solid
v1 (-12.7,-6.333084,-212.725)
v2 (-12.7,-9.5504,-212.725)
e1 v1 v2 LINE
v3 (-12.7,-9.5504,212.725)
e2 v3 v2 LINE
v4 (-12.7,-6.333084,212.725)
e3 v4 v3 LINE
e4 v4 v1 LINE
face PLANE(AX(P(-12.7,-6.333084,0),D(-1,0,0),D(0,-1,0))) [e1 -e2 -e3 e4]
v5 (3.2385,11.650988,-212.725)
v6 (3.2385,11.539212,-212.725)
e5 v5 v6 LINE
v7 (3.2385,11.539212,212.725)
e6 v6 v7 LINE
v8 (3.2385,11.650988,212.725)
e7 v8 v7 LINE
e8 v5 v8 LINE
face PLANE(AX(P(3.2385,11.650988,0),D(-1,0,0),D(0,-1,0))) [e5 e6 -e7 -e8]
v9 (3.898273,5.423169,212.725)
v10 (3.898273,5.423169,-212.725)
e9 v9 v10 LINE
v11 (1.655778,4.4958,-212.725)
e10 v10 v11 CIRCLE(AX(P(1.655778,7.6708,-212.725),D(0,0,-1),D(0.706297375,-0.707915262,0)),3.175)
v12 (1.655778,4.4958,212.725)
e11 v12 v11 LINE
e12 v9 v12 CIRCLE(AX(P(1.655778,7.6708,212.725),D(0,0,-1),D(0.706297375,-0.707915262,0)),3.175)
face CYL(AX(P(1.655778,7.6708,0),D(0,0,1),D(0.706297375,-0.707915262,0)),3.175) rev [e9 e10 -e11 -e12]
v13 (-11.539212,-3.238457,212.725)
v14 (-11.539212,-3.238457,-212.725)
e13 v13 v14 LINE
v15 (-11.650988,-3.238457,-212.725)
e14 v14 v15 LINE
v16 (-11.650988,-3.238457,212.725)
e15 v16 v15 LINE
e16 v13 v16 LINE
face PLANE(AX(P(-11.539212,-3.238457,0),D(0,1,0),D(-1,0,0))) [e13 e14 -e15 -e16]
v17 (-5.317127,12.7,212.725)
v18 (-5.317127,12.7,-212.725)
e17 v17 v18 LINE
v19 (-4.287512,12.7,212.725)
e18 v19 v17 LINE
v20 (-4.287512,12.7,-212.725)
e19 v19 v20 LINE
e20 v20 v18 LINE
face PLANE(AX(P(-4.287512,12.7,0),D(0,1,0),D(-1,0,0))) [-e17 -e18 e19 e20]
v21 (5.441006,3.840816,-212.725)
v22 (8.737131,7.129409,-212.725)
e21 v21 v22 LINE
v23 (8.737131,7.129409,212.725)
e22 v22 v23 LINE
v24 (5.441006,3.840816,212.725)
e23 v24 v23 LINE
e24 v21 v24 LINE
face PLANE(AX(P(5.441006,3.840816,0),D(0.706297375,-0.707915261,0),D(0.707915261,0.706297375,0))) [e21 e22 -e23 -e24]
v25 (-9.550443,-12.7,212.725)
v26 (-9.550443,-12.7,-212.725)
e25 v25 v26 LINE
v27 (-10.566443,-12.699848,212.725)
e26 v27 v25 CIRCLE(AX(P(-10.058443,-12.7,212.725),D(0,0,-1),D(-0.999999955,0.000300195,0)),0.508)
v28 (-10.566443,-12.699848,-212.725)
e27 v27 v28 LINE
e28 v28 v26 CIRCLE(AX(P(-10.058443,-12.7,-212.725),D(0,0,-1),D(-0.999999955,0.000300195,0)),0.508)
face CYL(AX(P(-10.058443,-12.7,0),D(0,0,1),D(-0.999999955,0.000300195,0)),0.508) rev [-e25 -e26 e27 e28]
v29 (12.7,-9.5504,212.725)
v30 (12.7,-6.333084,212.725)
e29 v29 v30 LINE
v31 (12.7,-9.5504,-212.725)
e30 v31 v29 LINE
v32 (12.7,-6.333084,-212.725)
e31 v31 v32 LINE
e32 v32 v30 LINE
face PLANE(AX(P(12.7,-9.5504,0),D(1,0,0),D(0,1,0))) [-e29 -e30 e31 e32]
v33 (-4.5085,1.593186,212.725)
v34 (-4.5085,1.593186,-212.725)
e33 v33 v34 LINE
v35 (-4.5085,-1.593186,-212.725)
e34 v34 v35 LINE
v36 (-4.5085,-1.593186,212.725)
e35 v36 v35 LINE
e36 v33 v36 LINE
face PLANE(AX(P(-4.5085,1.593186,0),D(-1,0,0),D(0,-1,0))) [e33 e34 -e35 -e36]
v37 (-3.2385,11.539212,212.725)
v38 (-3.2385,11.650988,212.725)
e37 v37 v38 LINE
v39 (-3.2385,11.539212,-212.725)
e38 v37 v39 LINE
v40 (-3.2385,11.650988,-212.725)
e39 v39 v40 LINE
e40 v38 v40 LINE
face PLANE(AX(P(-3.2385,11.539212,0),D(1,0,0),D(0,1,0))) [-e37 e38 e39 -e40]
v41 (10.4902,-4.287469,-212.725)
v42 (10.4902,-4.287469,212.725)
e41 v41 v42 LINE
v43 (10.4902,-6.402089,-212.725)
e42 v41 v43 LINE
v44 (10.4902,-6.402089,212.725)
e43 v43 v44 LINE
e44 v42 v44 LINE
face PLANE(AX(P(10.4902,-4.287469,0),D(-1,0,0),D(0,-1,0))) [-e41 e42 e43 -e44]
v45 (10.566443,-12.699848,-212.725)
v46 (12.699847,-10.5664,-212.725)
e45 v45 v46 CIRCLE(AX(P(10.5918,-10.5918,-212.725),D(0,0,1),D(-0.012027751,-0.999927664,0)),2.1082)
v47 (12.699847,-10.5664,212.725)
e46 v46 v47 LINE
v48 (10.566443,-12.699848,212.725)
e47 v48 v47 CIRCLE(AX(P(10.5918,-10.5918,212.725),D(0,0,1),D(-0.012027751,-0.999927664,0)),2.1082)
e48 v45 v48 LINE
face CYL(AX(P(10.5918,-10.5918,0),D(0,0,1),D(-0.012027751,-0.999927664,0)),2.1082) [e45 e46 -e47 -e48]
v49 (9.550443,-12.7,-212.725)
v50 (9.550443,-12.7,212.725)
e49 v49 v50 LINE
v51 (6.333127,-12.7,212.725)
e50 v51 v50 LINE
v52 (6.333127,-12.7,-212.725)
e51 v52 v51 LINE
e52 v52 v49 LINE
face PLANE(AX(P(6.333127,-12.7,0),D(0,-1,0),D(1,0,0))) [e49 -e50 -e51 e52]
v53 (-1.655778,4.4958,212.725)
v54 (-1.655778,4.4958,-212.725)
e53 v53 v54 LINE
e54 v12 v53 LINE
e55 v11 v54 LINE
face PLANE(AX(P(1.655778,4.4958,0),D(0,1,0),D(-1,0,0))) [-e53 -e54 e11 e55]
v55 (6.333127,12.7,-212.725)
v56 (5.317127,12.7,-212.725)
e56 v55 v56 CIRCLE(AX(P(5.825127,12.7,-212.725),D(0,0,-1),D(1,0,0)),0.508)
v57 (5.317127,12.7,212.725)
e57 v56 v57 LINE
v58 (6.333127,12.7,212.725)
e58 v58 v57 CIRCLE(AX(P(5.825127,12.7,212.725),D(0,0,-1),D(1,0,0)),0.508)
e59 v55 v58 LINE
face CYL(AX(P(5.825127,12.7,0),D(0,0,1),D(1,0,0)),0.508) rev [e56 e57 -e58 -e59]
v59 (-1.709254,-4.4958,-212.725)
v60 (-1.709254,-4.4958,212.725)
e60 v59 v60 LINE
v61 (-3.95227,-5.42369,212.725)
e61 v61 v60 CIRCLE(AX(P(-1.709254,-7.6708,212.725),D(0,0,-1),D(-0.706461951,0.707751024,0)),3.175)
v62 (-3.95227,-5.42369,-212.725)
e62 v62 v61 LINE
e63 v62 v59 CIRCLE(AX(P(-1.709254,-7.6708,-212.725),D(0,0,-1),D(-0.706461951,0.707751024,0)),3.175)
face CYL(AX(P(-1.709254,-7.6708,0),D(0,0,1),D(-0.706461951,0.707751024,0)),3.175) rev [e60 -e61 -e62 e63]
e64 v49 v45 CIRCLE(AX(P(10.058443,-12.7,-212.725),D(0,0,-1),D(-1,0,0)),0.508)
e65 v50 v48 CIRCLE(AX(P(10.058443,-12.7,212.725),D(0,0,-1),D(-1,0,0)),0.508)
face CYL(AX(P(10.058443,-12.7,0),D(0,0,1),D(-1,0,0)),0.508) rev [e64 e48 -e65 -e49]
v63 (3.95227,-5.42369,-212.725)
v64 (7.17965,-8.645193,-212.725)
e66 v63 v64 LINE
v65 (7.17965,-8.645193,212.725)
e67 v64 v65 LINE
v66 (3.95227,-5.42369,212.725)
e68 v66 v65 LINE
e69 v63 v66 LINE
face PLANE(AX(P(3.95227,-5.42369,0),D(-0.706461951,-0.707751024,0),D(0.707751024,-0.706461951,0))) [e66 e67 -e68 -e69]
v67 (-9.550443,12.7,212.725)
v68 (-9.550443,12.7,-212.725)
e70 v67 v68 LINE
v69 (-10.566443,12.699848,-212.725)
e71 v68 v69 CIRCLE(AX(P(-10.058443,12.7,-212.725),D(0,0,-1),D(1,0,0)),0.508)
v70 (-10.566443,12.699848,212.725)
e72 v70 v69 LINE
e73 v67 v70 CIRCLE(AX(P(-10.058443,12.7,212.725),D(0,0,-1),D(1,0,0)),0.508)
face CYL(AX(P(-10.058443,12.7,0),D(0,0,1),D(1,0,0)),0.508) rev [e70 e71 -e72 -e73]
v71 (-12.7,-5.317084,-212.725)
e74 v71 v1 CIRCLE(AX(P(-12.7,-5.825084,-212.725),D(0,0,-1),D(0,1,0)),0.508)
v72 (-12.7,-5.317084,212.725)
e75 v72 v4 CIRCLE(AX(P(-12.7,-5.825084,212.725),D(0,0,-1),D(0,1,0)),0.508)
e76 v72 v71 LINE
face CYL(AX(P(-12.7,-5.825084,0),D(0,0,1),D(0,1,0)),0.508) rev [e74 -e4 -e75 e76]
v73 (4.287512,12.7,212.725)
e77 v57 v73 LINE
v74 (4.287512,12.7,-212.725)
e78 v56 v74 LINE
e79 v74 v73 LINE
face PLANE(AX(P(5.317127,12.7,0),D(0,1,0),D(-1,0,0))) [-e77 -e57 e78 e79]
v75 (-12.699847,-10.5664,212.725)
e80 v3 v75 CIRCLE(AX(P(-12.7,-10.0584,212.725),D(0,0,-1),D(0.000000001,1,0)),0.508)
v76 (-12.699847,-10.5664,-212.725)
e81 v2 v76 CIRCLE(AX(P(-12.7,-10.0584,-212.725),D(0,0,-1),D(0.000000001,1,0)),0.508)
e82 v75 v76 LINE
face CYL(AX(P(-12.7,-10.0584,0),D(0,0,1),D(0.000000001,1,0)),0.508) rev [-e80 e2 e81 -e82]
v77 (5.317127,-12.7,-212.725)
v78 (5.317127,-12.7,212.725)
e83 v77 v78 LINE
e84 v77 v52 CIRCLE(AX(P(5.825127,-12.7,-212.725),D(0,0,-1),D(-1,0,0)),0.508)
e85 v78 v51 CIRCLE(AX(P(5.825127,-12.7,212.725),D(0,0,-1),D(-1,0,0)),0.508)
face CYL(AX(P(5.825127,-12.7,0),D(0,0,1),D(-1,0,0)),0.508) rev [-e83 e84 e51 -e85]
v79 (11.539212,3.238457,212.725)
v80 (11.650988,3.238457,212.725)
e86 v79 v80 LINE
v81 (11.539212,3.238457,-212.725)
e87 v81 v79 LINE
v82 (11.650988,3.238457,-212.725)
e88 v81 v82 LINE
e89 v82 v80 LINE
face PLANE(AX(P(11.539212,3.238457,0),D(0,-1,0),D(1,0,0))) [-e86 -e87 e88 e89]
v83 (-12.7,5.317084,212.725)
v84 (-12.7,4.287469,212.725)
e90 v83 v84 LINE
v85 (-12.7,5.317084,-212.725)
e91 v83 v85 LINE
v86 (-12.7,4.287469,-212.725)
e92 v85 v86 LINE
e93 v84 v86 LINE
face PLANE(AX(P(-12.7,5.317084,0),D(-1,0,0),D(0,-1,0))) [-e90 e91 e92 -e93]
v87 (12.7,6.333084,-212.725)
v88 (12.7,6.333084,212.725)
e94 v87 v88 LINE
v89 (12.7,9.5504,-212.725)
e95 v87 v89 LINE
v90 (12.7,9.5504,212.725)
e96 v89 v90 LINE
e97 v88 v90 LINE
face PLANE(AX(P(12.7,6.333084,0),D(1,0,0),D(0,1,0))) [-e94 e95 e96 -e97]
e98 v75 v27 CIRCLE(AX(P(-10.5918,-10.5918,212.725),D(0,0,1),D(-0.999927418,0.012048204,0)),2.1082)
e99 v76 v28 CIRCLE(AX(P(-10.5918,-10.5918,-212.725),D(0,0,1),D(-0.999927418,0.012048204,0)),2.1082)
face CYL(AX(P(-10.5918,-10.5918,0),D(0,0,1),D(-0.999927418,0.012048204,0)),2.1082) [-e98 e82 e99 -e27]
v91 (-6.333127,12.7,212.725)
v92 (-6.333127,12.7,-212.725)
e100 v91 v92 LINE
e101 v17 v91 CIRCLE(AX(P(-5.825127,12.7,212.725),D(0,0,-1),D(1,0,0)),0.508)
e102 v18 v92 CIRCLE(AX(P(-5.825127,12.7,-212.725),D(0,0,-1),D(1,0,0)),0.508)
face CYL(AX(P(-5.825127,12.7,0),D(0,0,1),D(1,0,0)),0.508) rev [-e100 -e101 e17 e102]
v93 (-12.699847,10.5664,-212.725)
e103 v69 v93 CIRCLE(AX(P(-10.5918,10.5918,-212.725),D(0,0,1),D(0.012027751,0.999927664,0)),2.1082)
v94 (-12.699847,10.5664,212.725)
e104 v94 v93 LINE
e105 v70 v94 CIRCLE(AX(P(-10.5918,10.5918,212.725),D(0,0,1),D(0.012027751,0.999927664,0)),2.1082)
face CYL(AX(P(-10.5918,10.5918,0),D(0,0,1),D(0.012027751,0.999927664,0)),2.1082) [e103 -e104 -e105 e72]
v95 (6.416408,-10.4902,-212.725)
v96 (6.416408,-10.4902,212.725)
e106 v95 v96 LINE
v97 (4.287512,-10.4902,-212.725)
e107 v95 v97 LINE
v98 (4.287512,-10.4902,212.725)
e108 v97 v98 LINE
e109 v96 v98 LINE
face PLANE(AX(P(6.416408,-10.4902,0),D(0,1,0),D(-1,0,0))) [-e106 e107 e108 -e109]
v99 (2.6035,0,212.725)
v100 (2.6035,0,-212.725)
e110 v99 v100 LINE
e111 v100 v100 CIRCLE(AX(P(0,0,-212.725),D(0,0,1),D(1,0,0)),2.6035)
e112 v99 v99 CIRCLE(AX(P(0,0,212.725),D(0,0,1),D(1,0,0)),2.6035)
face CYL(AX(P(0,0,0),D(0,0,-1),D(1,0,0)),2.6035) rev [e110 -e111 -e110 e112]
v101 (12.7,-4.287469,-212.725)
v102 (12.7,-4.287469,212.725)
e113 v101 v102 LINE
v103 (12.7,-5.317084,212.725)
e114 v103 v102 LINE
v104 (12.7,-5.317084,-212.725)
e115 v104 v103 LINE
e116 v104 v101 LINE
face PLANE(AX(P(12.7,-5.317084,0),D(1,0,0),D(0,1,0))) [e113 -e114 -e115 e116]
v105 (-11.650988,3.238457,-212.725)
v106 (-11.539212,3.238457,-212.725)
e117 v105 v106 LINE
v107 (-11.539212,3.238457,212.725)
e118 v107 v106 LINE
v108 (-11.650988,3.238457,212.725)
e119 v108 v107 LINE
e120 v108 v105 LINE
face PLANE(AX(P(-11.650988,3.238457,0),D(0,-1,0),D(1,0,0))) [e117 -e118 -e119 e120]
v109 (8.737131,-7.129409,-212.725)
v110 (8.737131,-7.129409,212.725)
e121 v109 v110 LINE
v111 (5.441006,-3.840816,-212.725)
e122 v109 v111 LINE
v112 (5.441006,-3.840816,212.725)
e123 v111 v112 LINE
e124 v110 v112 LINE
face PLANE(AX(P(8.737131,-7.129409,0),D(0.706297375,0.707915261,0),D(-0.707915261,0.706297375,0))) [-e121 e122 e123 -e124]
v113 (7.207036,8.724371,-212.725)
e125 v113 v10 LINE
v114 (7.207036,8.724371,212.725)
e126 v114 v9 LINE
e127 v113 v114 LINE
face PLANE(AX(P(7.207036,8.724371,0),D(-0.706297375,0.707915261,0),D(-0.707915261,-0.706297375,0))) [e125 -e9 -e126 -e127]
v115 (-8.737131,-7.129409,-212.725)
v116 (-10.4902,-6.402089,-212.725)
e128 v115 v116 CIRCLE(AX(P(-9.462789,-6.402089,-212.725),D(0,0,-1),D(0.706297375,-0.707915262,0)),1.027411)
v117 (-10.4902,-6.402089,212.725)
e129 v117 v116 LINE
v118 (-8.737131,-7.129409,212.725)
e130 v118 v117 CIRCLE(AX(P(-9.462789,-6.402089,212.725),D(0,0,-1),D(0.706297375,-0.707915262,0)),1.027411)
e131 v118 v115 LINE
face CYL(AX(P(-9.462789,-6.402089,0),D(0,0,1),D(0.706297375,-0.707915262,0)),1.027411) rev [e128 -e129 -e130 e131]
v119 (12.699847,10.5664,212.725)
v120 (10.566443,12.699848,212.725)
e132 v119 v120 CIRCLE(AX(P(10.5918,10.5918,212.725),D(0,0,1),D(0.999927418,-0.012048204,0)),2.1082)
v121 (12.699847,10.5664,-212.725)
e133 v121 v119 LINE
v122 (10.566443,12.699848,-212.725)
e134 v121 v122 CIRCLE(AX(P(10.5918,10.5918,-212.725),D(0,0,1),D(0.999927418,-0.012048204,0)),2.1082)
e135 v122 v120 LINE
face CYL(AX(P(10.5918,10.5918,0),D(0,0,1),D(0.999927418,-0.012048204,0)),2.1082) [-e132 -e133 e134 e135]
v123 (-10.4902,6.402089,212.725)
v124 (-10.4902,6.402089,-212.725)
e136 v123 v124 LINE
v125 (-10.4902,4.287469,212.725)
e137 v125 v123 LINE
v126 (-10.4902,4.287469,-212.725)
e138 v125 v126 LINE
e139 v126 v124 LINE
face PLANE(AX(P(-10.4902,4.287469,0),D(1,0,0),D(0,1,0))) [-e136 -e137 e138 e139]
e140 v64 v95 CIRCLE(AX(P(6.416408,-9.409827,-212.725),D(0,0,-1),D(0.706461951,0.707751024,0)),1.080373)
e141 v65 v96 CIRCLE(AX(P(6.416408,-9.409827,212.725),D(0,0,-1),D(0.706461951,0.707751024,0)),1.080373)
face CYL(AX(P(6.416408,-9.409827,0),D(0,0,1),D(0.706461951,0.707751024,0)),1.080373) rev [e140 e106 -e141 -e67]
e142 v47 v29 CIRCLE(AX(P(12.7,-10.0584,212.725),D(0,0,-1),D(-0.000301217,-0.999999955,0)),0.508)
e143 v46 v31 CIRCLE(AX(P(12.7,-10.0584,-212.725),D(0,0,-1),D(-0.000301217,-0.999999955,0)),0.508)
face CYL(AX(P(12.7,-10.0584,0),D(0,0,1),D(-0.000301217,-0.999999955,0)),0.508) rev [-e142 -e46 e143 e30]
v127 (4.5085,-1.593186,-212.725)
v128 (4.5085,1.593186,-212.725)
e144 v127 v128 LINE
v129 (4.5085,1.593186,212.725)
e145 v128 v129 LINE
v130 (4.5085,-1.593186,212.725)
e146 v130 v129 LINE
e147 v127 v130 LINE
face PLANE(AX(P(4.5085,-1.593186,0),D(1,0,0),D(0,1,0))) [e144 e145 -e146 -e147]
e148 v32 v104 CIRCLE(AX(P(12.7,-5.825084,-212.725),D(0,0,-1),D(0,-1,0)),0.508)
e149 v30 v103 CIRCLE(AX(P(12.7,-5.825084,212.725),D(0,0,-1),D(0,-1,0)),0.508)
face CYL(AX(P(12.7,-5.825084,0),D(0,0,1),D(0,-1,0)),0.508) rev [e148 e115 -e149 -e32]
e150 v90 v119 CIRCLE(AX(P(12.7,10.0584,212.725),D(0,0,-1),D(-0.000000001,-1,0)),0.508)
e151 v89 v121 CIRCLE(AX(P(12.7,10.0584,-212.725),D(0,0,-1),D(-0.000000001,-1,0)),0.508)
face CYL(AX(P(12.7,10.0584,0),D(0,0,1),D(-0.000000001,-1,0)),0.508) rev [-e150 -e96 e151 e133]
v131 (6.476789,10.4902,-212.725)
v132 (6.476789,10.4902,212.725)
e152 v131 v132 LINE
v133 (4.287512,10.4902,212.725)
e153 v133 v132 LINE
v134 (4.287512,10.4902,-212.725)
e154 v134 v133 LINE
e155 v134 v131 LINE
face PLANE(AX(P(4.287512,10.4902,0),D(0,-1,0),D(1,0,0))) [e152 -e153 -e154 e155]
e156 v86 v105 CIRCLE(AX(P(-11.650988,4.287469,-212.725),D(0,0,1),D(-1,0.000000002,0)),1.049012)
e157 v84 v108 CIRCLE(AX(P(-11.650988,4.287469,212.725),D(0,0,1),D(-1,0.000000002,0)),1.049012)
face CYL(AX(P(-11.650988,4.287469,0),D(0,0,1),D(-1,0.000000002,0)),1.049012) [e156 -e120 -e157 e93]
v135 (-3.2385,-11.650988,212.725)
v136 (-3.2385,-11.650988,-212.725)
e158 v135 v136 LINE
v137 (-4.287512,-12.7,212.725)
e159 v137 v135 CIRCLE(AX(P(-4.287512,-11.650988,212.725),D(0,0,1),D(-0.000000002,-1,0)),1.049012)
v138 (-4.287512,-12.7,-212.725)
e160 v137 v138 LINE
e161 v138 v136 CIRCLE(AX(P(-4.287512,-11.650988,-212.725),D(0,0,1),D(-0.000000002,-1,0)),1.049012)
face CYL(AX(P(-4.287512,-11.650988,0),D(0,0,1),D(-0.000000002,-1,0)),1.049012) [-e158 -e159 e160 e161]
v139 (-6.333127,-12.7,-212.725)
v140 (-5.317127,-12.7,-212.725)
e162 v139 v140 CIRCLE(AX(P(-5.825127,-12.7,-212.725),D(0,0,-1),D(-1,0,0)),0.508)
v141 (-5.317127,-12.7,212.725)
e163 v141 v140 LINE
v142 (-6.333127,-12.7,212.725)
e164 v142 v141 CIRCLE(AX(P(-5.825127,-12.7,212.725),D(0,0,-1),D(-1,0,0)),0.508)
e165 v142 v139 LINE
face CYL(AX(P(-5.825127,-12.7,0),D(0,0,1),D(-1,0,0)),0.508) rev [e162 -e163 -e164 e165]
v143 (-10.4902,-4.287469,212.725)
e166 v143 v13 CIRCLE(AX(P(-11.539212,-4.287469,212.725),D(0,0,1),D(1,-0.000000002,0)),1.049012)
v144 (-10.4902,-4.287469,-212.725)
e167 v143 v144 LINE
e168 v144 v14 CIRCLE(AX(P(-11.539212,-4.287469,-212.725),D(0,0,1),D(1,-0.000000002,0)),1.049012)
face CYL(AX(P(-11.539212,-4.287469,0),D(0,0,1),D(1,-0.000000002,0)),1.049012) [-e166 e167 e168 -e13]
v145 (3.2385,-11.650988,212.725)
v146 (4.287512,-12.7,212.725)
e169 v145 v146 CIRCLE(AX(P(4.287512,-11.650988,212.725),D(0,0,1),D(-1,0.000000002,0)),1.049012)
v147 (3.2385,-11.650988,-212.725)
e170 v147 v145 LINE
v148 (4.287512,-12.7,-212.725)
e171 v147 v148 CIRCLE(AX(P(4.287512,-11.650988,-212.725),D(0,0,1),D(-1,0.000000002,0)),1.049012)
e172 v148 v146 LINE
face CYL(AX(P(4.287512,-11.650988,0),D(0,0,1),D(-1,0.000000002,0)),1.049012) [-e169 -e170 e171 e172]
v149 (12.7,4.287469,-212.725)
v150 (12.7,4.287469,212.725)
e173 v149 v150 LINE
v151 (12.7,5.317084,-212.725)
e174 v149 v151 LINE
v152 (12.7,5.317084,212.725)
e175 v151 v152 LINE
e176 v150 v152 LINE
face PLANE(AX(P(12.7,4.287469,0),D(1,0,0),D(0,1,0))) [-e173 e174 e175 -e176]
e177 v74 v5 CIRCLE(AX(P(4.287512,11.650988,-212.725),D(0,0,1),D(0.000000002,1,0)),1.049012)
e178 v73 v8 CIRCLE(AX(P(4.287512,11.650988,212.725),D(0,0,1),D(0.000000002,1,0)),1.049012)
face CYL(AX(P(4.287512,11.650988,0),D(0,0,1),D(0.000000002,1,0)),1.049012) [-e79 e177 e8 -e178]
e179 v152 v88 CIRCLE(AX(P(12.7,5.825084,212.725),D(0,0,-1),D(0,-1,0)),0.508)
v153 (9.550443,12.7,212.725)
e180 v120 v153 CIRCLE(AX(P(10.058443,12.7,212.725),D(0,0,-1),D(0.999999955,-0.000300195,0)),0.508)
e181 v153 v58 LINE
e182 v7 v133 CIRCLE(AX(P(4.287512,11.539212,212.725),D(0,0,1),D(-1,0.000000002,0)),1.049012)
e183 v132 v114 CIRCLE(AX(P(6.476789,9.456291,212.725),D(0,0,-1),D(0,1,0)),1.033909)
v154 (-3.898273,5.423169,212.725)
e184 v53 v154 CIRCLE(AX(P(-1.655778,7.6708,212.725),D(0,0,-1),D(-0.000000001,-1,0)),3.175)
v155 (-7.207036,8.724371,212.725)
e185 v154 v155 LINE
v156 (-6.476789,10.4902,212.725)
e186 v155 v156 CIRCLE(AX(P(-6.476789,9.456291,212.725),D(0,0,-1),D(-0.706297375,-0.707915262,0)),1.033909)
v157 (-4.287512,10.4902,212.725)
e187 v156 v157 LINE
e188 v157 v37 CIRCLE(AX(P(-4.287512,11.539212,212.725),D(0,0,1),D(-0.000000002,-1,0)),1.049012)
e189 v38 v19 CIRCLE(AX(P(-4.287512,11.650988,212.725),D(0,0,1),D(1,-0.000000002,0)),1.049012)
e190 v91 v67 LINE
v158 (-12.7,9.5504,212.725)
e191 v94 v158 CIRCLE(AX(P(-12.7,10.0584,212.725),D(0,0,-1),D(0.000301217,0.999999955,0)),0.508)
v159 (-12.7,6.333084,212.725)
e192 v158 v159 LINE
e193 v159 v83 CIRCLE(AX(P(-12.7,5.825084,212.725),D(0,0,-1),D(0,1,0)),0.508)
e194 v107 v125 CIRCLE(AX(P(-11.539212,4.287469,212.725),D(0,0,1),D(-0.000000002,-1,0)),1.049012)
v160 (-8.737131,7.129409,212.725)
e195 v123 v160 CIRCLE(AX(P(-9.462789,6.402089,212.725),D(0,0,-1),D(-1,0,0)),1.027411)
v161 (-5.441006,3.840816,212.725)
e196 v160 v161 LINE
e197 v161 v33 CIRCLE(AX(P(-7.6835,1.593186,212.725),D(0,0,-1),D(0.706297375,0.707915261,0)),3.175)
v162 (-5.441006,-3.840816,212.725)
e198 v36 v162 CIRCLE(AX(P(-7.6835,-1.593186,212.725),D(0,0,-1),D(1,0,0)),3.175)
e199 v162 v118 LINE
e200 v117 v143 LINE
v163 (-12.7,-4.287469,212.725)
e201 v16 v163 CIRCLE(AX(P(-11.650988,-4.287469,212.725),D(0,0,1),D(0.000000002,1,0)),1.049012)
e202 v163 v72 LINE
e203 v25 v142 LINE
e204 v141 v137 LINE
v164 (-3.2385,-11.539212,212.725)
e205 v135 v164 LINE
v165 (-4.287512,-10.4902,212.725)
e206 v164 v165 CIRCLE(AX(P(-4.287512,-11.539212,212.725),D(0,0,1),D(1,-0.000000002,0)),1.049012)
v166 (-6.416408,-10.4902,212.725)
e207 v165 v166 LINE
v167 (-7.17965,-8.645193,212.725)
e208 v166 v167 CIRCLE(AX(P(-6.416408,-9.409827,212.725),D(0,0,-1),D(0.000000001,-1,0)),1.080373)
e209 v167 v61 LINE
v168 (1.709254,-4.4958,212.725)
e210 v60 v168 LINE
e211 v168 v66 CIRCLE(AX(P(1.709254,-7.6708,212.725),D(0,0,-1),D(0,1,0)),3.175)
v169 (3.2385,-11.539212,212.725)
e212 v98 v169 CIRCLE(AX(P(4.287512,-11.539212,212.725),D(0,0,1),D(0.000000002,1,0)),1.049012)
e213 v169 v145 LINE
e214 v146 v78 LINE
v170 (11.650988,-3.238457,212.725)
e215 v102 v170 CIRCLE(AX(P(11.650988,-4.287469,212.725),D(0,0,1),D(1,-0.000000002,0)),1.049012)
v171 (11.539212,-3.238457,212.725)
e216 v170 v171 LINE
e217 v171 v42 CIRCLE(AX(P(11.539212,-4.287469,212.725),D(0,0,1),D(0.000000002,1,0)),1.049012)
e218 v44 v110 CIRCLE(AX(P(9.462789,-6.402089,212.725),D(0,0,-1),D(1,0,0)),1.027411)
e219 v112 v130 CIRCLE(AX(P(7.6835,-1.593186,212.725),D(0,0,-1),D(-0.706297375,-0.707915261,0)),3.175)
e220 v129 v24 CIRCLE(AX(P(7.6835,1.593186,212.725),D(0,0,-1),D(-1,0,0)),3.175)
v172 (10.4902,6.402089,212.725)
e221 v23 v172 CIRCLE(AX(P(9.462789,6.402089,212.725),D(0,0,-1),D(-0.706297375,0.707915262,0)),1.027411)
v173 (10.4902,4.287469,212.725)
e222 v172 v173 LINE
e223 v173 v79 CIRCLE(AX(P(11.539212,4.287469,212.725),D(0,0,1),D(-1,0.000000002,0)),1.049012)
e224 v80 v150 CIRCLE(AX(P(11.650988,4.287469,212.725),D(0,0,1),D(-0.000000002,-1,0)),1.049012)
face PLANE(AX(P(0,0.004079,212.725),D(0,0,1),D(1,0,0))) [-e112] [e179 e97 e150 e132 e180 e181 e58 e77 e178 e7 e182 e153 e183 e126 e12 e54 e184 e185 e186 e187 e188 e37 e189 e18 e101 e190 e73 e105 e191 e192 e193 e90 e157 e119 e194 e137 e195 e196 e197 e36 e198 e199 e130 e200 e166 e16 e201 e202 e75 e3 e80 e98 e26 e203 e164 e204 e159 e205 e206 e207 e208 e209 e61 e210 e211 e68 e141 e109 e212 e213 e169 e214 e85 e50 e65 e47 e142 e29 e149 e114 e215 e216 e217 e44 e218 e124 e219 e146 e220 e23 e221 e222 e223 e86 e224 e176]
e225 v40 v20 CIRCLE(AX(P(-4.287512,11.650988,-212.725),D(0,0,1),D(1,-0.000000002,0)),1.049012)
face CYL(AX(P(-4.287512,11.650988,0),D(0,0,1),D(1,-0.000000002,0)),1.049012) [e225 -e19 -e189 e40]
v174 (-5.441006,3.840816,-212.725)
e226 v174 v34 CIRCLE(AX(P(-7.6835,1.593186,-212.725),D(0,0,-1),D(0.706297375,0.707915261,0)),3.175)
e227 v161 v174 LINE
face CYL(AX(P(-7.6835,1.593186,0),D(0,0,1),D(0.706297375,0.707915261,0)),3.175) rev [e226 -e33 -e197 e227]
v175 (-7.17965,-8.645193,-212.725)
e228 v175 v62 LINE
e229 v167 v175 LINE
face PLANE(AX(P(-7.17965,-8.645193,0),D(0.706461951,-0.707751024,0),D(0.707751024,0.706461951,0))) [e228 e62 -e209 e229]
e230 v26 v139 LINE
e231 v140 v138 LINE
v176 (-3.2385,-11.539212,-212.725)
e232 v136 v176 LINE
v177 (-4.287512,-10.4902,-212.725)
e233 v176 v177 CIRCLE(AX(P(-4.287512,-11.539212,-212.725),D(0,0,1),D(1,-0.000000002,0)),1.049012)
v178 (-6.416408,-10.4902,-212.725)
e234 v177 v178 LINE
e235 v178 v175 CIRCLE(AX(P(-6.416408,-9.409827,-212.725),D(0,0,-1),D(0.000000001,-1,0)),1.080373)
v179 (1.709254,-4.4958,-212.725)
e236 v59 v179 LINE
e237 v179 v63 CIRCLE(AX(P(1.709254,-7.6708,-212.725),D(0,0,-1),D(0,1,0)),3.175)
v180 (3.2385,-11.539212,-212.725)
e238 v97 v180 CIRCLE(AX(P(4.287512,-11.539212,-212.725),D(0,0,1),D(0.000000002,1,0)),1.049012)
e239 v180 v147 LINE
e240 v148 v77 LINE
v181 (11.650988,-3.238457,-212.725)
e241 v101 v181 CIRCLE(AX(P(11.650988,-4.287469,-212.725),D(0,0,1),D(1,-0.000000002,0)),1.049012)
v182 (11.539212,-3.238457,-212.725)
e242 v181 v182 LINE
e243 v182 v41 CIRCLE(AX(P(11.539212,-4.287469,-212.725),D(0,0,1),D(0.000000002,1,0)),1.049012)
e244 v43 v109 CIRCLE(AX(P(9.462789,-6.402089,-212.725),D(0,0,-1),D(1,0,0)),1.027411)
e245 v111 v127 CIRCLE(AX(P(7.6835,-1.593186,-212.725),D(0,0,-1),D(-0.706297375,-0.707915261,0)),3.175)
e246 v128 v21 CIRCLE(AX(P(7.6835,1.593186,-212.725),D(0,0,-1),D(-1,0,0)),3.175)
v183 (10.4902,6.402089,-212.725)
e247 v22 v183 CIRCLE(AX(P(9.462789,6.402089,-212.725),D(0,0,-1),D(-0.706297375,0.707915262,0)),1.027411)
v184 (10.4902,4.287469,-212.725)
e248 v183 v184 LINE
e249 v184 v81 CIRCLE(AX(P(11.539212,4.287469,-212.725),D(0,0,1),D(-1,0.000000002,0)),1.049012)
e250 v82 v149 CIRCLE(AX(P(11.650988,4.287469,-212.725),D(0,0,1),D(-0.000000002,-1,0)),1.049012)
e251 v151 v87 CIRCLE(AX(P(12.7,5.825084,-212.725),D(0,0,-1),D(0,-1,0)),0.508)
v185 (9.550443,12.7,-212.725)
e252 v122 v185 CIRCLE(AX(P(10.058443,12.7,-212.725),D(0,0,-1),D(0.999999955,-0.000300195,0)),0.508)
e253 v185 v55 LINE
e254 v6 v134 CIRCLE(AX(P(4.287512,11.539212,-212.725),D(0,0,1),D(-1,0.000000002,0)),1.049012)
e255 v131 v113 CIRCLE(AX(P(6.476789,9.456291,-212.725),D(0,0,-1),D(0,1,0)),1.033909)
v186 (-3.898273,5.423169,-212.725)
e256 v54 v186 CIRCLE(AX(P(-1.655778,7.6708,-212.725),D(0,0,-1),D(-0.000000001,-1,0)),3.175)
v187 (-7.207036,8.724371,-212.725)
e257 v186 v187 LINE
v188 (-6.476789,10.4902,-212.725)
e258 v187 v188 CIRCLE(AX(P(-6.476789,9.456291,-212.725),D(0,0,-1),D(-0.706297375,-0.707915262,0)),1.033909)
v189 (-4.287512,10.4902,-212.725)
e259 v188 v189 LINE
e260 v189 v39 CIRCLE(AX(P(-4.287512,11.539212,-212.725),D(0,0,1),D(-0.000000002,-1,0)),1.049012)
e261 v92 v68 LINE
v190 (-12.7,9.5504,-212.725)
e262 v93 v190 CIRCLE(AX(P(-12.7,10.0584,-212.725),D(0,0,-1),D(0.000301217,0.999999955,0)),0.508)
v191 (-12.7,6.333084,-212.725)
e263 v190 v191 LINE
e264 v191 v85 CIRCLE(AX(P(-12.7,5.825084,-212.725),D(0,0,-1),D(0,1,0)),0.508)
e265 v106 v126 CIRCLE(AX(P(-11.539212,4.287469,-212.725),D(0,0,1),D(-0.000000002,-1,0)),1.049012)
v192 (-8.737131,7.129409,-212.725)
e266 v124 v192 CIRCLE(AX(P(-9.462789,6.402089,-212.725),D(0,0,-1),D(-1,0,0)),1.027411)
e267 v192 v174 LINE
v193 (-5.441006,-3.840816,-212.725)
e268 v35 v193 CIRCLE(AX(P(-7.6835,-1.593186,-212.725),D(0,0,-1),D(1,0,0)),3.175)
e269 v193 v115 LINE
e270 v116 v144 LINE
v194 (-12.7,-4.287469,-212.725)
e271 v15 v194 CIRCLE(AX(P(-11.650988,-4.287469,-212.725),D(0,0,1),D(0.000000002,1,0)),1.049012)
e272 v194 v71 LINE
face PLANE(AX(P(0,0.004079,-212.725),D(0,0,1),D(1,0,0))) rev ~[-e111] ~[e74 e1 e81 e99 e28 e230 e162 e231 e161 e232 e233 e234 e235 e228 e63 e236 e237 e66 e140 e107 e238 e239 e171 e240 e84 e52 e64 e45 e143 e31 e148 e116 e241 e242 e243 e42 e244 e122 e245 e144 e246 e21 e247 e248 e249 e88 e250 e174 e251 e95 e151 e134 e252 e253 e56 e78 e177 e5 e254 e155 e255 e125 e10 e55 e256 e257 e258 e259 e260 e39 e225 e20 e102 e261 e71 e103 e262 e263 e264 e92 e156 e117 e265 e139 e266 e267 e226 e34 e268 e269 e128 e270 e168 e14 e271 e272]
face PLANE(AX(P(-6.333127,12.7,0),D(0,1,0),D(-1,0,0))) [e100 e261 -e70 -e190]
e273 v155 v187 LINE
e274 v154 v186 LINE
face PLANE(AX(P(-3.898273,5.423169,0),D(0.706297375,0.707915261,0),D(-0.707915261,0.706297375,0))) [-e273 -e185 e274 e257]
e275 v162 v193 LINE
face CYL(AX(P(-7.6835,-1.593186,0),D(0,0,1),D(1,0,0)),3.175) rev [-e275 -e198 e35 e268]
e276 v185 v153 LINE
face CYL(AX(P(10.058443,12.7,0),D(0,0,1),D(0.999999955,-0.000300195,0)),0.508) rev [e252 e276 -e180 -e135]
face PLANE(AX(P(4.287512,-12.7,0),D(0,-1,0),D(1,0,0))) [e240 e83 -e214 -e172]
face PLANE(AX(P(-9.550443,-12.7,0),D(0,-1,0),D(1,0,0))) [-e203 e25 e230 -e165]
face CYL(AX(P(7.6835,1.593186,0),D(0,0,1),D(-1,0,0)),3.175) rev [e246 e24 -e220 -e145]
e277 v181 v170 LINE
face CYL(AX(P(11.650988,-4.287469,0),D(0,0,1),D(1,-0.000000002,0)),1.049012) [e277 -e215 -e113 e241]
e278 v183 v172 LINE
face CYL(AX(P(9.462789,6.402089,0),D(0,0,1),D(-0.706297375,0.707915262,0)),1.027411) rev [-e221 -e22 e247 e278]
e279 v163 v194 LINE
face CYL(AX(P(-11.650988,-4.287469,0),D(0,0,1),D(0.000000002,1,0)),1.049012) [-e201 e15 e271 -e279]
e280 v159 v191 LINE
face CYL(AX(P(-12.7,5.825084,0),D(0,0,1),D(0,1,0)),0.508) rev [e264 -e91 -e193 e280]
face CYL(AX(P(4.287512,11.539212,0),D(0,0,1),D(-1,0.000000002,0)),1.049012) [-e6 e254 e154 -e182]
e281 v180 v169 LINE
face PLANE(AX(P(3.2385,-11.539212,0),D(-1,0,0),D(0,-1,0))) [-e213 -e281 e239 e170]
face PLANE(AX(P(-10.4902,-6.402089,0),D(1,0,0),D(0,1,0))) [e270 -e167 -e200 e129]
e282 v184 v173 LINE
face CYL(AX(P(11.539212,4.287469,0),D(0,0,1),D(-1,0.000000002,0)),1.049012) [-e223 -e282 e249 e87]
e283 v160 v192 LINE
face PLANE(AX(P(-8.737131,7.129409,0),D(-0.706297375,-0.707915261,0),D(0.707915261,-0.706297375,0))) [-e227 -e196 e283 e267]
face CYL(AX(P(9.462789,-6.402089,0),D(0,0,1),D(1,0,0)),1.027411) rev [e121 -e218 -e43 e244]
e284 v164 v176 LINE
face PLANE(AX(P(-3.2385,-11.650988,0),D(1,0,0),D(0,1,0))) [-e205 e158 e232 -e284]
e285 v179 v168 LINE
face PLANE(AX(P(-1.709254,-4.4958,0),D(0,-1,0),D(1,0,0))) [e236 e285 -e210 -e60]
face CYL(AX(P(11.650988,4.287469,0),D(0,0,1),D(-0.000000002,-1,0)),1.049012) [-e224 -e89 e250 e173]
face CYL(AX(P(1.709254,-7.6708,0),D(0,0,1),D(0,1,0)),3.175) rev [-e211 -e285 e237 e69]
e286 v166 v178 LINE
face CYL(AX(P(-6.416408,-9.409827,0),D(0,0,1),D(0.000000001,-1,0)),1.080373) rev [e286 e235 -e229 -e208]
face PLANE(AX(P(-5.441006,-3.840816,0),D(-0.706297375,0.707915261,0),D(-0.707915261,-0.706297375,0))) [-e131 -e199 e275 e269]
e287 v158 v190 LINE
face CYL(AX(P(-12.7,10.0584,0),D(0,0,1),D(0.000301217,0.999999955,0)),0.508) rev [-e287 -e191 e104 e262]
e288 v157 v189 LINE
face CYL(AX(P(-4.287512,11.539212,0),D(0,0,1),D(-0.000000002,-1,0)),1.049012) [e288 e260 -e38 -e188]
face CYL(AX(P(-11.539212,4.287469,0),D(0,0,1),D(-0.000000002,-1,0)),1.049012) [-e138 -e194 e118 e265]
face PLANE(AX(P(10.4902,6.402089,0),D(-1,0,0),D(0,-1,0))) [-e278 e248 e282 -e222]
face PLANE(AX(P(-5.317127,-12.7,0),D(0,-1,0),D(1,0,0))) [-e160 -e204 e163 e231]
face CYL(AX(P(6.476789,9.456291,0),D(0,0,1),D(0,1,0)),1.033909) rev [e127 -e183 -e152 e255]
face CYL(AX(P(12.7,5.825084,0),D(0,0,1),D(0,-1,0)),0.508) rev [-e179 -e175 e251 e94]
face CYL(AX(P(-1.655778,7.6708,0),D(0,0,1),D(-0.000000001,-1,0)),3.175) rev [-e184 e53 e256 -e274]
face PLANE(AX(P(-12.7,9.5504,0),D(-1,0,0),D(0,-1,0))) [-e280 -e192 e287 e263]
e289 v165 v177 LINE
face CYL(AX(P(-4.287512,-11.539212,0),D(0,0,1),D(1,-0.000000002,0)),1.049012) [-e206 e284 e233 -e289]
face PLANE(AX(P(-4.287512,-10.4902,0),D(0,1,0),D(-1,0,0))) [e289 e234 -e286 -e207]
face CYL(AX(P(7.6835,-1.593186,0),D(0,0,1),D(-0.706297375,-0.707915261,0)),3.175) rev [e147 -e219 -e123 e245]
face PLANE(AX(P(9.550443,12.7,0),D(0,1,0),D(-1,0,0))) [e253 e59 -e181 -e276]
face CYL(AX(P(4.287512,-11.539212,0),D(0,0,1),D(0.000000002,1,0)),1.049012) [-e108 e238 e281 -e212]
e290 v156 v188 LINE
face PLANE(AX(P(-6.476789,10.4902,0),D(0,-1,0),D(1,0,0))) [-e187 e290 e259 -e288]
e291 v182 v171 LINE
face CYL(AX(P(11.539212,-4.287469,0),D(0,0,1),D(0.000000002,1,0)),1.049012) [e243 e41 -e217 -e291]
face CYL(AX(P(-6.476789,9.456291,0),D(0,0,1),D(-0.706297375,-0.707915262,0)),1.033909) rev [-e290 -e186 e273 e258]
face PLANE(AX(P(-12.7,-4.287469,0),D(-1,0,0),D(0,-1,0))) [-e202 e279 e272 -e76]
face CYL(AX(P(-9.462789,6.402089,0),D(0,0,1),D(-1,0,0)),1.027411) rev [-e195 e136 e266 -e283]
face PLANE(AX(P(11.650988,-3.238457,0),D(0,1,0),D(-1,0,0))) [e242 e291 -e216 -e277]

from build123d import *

# Parameters (mm, degrees)
SKETCH1_R           = 2.6035
BOSS_EXTRUDE1_DEPTH = 212.725


with BuildPart() as part:
    # Sketch1 → Boss-Extrude1 (new body, symmetric)
    with BuildSketch(Plane.XY):
        with BuildLine():
            Line((-7.179650497, -8.645192506), (-3.952270251, -5.423690499))
            ThreePointArc((-3.952270251, -5.423690499), (-2.922936451, -4.736929036), (-1.709253557, -4.4958))
            Line((-1.709253557, -4.4958), (1.709253557, -4.4958))
            ThreePointArc((1.709253557, -4.4958), (2.922936451, -4.736929036), (3.952270251, -5.423690499))
            Line((3.952270251, -5.423690499), (7.179650497, -8.645192506))
            ThreePointArc((7.179650497, -8.645192506), (7.41473083, -9.822813117), (6.416408329, -10.4902))
            Line((6.416408329, -10.4902), (4.287512407, -10.4902))
            ThreePointArc((4.287512407, -10.4902), (3.54574862, -10.79744862), (3.2385, -11.539212407))
            Line((3.2385, -11.539212407), (3.2385, -11.650987593))
            ThreePointArc((3.2385, -11.650987593), (3.54574862, -12.39275138), (4.287512407, -12.7))
            Line((4.287512407, -12.7), (5.317126718, -12.7))
            ThreePointArc((5.317126718, -12.7), (5.825126718, -12.192), (6.333126718, -12.7))
            Line((6.333126718, -12.7), (9.550443118, -12.7))
            ThreePointArc((9.550443118, -12.7), (10.058366869, -12.192000006), (10.566443095, -12.699847501))
            ThreePointArc((10.566443095, -12.699847501), (12.082537762, -12.08250727), (12.699846982, -10.566399977))
            ThreePointArc((12.699846982, -10.566399977), (12.192000006, -10.058323491), (12.7, -9.5504))
            Line((12.7, -9.5504), (12.7, -6.3330836))
            ThreePointArc((12.7, -6.3330836), (12.192, -5.8250836), (12.7, -5.3170836))
            Line((12.7, -5.3170836), (12.7, -4.287469289))
            ThreePointArc((12.7, -4.287469289), (12.39275138, -3.545705502), (11.650987593, -3.238456882))
            Line((11.650987593, -3.238456882), (11.539212407, -3.238456882))
            ThreePointArc((11.539212407, -3.238456882), (10.79744862, -3.545705502), (10.4902, -4.287469289))
            Line((10.4902, -4.287469289), (10.4902, -6.402089023))
            ThreePointArc((10.4902, -6.402089023), (9.856505071, -7.351067942), (8.737131347, -7.129408934))
            Line((8.737131347, -7.129408934), (5.441005833, -3.840816462))
            ThreePointArc((5.441005833, -3.840816462), (4.750877967, -2.809883091), (4.5085, -1.593185507))
            Line((4.5085, -1.593185507), (4.5085, 1.593185507))
            ThreePointArc((4.5085, 1.593185507), (4.750877967, 2.809883091), (5.441005833, 3.840816462))
            Line((5.441005833, 3.840816462), (8.737131347, 7.129408934))
            ThreePointArc((8.737131347, 7.129408934), (9.856505071, 7.351067942), (10.4902, 6.402089023))
            Line((10.4902, 6.402089023), (10.4902, 4.287469289))
            ThreePointArc((10.4902, 4.287469289), (10.79744862, 3.545705502), (11.539212407, 3.238456882))
            Line((11.539212407, 3.238456882), (11.650987593, 3.238456882))
            ThreePointArc((11.650987593, 3.238456882), (12.39275138, 3.545705502), (12.7, 4.287469289))
            Line((12.7, 4.287469289), (12.7, 5.3170836))
            ThreePointArc((12.7, 5.3170836), (12.192, 5.8250836), (12.7, 6.3330836))
            Line((12.7, 6.3330836), (12.7, 9.5504))
            ThreePointArc((12.7, 9.5504), (12.192000006, 10.058323491), (12.699846982, 10.566399977))
            ThreePointArc((12.699846982, 10.566399977), (12.082537762, 12.08250727), (10.566443095, 12.699847501))
            ThreePointArc((10.566443095, 12.699847501), (10.058366869, 12.192000006), (9.550443118, 12.7))
            Line((9.550443118, 12.7), (6.333126718, 12.7))
            ThreePointArc((6.333126718, 12.7), (5.825126718, 12.192), (5.317126718, 12.7))
            Line((5.317126718, 12.7), (4.287512407, 12.7))
            ThreePointArc((4.287512407, 12.7), (3.54574862, 12.39275138), (3.2385, 11.650987593))
            Line((3.2385, 11.650987593), (3.2385, 11.539212407))
            ThreePointArc((3.2385, 11.539212407), (3.54574862, 10.79744862), (4.287512407, 10.4902))
            Line((4.287512407, 10.4902), (6.476788598, 10.4902))
            ThreePointArc((6.476788598, 10.4902), (7.432222385, 9.85140422), (7.207036008, 8.724370562))
            Line((7.207036008, 8.724370562), (3.898272566, 5.423169045))
            ThreePointArc((3.898272566, 5.423169045), (2.869120213, 4.736787962), (1.655778399, 4.4958))
            Line((1.655778399, 4.4958), (-1.655778399, 4.4958))
            ThreePointArc((-1.655778399, 4.4958), (-2.869120213, 4.736787962), (-3.898272566, 5.423169045))
            Line((-3.898272566, 5.423169045), (-7.207036008, 8.724370562))
            ThreePointArc((-7.207036008, 8.724370562), (-7.432222385, 9.85140422), (-6.476788598, 10.4902))
            Line((-6.476788598, 10.4902), (-4.287512407, 10.4902))
            ThreePointArc((-4.287512407, 10.4902), (-3.54574862, 10.79744862), (-3.2385, 11.539212407))
            Line((-3.2385, 11.539212407), (-3.2385, 11.650987593))
            ThreePointArc((-3.2385, 11.650987593), (-3.54574862, 12.39275138), (-4.287512407, 12.7))
            Line((-4.287512407, 12.7), (-5.317126718, 12.7))
            ThreePointArc((-5.317126718, 12.7), (-5.825126718, 12.192), (-6.333126718, 12.7))
            Line((-6.333126718, 12.7), (-9.550443118, 12.7))
            ThreePointArc((-9.550443118, 12.7), (-10.058366869, 12.192000006), (-10.566443095, 12.699847501))
            ThreePointArc((-10.566443095, 12.699847501), (-12.082537762, 12.08250727), (-12.699846982, 10.566399977))
            ThreePointArc((-12.699846982, 10.566399977), (-12.192000006, 10.058323491), (-12.7, 9.5504))
            Line((-12.7, 9.5504), (-12.7, 6.3330836))
            ThreePointArc((-12.7, 6.3330836), (-12.192, 5.8250836), (-12.7, 5.3170836))
            Line((-12.7, 5.3170836), (-12.7, 4.287469289))
            ThreePointArc((-12.7, 4.287469289), (-12.39275138, 3.545705502), (-11.650987593, 3.238456882))
            Line((-11.650987593, 3.238456882), (-11.539212407, 3.238456882))
            ThreePointArc((-11.539212407, 3.238456882), (-10.79744862, 3.545705502), (-10.4902, 4.287469289))
            Line((-10.4902, 4.287469289), (-10.4902, 6.402089023))
            ThreePointArc((-10.4902, 6.402089023), (-9.856505071, 7.351067942), (-8.737131347, 7.129408934))
            Line((-8.737131347, 7.129408934), (-5.441005833, 3.840816462))
            ThreePointArc((-5.441005833, 3.840816462), (-4.750877967, 2.809883091), (-4.5085, 1.593185507))
            Line((-4.5085, 1.593185507), (-4.5085, -1.593185507))
            ThreePointArc((-4.5085, -1.593185507), (-4.750877967, -2.809883091), (-5.441005833, -3.840816462))
            Line((-5.441005833, -3.840816462), (-8.737131347, -7.129408934))
            ThreePointArc((-8.737131347, -7.129408934), (-9.856505071, -7.351067942), (-10.4902, -6.402089023))
            Line((-10.4902, -6.402089023), (-10.4902, -4.287469289))
            ThreePointArc((-10.4902, -4.287469289), (-10.79744862, -3.545705502), (-11.539212407, -3.238456882))
            Line((-11.539212407, -3.238456882), (-11.650987593, -3.238456882))
            ThreePointArc((-11.650987593, -3.238456882), (-12.39275138, -3.545705502), (-12.7, -4.287469289))
            Line((-12.7, -4.287469289), (-12.7, -5.3170836))
            ThreePointArc((-12.7, -5.3170836), (-12.192, -5.8250836), (-12.7, -6.3330836))
            Line((-12.7, -6.3330836), (-12.7, -9.5504))
            ThreePointArc((-12.7, -9.5504), (-12.192000006, -10.058323491), (-12.699846982, -10.566399977))
            ThreePointArc((-12.699846982, -10.566399977), (-12.082537762, -12.08250727), (-10.566443095, -12.699847501))
            ThreePointArc((-10.566443095, -12.699847501), (-10.058366869, -12.192000006), (-9.550443118, -12.7))
            Line((-9.550443118, -12.7), (-6.333126718, -12.7))
            ThreePointArc((-6.333126718, -12.7), (-5.825126718, -12.192), (-5.317126718, -12.7))
            Line((-5.317126718, -12.7), (-4.287512407, -12.7))
            ThreePointArc((-4.287512407, -12.7), (-3.54574862, -12.39275138), (-3.2385, -11.650987593))
            Line((-3.2385, -11.650987593), (-3.2385, -11.539212407))
            ThreePointArc((-3.2385, -11.539212407), (-3.54574862, -10.79744862), (-4.287512407, -10.4902))
            Line((-4.287512407, -10.4902), (-6.416408329, -10.4902))
            ThreePointArc((-6.416408329, -10.4902), (-7.41473083, -9.822813117), (-7.179650497, -8.645192506))
        make_face()
        Circle(SKETCH1_R, mode=Mode.SUBTRACT)
    extrude(amount=BOSS_EXTRUDE1_DEPTH, both=True)


solid = part.part
